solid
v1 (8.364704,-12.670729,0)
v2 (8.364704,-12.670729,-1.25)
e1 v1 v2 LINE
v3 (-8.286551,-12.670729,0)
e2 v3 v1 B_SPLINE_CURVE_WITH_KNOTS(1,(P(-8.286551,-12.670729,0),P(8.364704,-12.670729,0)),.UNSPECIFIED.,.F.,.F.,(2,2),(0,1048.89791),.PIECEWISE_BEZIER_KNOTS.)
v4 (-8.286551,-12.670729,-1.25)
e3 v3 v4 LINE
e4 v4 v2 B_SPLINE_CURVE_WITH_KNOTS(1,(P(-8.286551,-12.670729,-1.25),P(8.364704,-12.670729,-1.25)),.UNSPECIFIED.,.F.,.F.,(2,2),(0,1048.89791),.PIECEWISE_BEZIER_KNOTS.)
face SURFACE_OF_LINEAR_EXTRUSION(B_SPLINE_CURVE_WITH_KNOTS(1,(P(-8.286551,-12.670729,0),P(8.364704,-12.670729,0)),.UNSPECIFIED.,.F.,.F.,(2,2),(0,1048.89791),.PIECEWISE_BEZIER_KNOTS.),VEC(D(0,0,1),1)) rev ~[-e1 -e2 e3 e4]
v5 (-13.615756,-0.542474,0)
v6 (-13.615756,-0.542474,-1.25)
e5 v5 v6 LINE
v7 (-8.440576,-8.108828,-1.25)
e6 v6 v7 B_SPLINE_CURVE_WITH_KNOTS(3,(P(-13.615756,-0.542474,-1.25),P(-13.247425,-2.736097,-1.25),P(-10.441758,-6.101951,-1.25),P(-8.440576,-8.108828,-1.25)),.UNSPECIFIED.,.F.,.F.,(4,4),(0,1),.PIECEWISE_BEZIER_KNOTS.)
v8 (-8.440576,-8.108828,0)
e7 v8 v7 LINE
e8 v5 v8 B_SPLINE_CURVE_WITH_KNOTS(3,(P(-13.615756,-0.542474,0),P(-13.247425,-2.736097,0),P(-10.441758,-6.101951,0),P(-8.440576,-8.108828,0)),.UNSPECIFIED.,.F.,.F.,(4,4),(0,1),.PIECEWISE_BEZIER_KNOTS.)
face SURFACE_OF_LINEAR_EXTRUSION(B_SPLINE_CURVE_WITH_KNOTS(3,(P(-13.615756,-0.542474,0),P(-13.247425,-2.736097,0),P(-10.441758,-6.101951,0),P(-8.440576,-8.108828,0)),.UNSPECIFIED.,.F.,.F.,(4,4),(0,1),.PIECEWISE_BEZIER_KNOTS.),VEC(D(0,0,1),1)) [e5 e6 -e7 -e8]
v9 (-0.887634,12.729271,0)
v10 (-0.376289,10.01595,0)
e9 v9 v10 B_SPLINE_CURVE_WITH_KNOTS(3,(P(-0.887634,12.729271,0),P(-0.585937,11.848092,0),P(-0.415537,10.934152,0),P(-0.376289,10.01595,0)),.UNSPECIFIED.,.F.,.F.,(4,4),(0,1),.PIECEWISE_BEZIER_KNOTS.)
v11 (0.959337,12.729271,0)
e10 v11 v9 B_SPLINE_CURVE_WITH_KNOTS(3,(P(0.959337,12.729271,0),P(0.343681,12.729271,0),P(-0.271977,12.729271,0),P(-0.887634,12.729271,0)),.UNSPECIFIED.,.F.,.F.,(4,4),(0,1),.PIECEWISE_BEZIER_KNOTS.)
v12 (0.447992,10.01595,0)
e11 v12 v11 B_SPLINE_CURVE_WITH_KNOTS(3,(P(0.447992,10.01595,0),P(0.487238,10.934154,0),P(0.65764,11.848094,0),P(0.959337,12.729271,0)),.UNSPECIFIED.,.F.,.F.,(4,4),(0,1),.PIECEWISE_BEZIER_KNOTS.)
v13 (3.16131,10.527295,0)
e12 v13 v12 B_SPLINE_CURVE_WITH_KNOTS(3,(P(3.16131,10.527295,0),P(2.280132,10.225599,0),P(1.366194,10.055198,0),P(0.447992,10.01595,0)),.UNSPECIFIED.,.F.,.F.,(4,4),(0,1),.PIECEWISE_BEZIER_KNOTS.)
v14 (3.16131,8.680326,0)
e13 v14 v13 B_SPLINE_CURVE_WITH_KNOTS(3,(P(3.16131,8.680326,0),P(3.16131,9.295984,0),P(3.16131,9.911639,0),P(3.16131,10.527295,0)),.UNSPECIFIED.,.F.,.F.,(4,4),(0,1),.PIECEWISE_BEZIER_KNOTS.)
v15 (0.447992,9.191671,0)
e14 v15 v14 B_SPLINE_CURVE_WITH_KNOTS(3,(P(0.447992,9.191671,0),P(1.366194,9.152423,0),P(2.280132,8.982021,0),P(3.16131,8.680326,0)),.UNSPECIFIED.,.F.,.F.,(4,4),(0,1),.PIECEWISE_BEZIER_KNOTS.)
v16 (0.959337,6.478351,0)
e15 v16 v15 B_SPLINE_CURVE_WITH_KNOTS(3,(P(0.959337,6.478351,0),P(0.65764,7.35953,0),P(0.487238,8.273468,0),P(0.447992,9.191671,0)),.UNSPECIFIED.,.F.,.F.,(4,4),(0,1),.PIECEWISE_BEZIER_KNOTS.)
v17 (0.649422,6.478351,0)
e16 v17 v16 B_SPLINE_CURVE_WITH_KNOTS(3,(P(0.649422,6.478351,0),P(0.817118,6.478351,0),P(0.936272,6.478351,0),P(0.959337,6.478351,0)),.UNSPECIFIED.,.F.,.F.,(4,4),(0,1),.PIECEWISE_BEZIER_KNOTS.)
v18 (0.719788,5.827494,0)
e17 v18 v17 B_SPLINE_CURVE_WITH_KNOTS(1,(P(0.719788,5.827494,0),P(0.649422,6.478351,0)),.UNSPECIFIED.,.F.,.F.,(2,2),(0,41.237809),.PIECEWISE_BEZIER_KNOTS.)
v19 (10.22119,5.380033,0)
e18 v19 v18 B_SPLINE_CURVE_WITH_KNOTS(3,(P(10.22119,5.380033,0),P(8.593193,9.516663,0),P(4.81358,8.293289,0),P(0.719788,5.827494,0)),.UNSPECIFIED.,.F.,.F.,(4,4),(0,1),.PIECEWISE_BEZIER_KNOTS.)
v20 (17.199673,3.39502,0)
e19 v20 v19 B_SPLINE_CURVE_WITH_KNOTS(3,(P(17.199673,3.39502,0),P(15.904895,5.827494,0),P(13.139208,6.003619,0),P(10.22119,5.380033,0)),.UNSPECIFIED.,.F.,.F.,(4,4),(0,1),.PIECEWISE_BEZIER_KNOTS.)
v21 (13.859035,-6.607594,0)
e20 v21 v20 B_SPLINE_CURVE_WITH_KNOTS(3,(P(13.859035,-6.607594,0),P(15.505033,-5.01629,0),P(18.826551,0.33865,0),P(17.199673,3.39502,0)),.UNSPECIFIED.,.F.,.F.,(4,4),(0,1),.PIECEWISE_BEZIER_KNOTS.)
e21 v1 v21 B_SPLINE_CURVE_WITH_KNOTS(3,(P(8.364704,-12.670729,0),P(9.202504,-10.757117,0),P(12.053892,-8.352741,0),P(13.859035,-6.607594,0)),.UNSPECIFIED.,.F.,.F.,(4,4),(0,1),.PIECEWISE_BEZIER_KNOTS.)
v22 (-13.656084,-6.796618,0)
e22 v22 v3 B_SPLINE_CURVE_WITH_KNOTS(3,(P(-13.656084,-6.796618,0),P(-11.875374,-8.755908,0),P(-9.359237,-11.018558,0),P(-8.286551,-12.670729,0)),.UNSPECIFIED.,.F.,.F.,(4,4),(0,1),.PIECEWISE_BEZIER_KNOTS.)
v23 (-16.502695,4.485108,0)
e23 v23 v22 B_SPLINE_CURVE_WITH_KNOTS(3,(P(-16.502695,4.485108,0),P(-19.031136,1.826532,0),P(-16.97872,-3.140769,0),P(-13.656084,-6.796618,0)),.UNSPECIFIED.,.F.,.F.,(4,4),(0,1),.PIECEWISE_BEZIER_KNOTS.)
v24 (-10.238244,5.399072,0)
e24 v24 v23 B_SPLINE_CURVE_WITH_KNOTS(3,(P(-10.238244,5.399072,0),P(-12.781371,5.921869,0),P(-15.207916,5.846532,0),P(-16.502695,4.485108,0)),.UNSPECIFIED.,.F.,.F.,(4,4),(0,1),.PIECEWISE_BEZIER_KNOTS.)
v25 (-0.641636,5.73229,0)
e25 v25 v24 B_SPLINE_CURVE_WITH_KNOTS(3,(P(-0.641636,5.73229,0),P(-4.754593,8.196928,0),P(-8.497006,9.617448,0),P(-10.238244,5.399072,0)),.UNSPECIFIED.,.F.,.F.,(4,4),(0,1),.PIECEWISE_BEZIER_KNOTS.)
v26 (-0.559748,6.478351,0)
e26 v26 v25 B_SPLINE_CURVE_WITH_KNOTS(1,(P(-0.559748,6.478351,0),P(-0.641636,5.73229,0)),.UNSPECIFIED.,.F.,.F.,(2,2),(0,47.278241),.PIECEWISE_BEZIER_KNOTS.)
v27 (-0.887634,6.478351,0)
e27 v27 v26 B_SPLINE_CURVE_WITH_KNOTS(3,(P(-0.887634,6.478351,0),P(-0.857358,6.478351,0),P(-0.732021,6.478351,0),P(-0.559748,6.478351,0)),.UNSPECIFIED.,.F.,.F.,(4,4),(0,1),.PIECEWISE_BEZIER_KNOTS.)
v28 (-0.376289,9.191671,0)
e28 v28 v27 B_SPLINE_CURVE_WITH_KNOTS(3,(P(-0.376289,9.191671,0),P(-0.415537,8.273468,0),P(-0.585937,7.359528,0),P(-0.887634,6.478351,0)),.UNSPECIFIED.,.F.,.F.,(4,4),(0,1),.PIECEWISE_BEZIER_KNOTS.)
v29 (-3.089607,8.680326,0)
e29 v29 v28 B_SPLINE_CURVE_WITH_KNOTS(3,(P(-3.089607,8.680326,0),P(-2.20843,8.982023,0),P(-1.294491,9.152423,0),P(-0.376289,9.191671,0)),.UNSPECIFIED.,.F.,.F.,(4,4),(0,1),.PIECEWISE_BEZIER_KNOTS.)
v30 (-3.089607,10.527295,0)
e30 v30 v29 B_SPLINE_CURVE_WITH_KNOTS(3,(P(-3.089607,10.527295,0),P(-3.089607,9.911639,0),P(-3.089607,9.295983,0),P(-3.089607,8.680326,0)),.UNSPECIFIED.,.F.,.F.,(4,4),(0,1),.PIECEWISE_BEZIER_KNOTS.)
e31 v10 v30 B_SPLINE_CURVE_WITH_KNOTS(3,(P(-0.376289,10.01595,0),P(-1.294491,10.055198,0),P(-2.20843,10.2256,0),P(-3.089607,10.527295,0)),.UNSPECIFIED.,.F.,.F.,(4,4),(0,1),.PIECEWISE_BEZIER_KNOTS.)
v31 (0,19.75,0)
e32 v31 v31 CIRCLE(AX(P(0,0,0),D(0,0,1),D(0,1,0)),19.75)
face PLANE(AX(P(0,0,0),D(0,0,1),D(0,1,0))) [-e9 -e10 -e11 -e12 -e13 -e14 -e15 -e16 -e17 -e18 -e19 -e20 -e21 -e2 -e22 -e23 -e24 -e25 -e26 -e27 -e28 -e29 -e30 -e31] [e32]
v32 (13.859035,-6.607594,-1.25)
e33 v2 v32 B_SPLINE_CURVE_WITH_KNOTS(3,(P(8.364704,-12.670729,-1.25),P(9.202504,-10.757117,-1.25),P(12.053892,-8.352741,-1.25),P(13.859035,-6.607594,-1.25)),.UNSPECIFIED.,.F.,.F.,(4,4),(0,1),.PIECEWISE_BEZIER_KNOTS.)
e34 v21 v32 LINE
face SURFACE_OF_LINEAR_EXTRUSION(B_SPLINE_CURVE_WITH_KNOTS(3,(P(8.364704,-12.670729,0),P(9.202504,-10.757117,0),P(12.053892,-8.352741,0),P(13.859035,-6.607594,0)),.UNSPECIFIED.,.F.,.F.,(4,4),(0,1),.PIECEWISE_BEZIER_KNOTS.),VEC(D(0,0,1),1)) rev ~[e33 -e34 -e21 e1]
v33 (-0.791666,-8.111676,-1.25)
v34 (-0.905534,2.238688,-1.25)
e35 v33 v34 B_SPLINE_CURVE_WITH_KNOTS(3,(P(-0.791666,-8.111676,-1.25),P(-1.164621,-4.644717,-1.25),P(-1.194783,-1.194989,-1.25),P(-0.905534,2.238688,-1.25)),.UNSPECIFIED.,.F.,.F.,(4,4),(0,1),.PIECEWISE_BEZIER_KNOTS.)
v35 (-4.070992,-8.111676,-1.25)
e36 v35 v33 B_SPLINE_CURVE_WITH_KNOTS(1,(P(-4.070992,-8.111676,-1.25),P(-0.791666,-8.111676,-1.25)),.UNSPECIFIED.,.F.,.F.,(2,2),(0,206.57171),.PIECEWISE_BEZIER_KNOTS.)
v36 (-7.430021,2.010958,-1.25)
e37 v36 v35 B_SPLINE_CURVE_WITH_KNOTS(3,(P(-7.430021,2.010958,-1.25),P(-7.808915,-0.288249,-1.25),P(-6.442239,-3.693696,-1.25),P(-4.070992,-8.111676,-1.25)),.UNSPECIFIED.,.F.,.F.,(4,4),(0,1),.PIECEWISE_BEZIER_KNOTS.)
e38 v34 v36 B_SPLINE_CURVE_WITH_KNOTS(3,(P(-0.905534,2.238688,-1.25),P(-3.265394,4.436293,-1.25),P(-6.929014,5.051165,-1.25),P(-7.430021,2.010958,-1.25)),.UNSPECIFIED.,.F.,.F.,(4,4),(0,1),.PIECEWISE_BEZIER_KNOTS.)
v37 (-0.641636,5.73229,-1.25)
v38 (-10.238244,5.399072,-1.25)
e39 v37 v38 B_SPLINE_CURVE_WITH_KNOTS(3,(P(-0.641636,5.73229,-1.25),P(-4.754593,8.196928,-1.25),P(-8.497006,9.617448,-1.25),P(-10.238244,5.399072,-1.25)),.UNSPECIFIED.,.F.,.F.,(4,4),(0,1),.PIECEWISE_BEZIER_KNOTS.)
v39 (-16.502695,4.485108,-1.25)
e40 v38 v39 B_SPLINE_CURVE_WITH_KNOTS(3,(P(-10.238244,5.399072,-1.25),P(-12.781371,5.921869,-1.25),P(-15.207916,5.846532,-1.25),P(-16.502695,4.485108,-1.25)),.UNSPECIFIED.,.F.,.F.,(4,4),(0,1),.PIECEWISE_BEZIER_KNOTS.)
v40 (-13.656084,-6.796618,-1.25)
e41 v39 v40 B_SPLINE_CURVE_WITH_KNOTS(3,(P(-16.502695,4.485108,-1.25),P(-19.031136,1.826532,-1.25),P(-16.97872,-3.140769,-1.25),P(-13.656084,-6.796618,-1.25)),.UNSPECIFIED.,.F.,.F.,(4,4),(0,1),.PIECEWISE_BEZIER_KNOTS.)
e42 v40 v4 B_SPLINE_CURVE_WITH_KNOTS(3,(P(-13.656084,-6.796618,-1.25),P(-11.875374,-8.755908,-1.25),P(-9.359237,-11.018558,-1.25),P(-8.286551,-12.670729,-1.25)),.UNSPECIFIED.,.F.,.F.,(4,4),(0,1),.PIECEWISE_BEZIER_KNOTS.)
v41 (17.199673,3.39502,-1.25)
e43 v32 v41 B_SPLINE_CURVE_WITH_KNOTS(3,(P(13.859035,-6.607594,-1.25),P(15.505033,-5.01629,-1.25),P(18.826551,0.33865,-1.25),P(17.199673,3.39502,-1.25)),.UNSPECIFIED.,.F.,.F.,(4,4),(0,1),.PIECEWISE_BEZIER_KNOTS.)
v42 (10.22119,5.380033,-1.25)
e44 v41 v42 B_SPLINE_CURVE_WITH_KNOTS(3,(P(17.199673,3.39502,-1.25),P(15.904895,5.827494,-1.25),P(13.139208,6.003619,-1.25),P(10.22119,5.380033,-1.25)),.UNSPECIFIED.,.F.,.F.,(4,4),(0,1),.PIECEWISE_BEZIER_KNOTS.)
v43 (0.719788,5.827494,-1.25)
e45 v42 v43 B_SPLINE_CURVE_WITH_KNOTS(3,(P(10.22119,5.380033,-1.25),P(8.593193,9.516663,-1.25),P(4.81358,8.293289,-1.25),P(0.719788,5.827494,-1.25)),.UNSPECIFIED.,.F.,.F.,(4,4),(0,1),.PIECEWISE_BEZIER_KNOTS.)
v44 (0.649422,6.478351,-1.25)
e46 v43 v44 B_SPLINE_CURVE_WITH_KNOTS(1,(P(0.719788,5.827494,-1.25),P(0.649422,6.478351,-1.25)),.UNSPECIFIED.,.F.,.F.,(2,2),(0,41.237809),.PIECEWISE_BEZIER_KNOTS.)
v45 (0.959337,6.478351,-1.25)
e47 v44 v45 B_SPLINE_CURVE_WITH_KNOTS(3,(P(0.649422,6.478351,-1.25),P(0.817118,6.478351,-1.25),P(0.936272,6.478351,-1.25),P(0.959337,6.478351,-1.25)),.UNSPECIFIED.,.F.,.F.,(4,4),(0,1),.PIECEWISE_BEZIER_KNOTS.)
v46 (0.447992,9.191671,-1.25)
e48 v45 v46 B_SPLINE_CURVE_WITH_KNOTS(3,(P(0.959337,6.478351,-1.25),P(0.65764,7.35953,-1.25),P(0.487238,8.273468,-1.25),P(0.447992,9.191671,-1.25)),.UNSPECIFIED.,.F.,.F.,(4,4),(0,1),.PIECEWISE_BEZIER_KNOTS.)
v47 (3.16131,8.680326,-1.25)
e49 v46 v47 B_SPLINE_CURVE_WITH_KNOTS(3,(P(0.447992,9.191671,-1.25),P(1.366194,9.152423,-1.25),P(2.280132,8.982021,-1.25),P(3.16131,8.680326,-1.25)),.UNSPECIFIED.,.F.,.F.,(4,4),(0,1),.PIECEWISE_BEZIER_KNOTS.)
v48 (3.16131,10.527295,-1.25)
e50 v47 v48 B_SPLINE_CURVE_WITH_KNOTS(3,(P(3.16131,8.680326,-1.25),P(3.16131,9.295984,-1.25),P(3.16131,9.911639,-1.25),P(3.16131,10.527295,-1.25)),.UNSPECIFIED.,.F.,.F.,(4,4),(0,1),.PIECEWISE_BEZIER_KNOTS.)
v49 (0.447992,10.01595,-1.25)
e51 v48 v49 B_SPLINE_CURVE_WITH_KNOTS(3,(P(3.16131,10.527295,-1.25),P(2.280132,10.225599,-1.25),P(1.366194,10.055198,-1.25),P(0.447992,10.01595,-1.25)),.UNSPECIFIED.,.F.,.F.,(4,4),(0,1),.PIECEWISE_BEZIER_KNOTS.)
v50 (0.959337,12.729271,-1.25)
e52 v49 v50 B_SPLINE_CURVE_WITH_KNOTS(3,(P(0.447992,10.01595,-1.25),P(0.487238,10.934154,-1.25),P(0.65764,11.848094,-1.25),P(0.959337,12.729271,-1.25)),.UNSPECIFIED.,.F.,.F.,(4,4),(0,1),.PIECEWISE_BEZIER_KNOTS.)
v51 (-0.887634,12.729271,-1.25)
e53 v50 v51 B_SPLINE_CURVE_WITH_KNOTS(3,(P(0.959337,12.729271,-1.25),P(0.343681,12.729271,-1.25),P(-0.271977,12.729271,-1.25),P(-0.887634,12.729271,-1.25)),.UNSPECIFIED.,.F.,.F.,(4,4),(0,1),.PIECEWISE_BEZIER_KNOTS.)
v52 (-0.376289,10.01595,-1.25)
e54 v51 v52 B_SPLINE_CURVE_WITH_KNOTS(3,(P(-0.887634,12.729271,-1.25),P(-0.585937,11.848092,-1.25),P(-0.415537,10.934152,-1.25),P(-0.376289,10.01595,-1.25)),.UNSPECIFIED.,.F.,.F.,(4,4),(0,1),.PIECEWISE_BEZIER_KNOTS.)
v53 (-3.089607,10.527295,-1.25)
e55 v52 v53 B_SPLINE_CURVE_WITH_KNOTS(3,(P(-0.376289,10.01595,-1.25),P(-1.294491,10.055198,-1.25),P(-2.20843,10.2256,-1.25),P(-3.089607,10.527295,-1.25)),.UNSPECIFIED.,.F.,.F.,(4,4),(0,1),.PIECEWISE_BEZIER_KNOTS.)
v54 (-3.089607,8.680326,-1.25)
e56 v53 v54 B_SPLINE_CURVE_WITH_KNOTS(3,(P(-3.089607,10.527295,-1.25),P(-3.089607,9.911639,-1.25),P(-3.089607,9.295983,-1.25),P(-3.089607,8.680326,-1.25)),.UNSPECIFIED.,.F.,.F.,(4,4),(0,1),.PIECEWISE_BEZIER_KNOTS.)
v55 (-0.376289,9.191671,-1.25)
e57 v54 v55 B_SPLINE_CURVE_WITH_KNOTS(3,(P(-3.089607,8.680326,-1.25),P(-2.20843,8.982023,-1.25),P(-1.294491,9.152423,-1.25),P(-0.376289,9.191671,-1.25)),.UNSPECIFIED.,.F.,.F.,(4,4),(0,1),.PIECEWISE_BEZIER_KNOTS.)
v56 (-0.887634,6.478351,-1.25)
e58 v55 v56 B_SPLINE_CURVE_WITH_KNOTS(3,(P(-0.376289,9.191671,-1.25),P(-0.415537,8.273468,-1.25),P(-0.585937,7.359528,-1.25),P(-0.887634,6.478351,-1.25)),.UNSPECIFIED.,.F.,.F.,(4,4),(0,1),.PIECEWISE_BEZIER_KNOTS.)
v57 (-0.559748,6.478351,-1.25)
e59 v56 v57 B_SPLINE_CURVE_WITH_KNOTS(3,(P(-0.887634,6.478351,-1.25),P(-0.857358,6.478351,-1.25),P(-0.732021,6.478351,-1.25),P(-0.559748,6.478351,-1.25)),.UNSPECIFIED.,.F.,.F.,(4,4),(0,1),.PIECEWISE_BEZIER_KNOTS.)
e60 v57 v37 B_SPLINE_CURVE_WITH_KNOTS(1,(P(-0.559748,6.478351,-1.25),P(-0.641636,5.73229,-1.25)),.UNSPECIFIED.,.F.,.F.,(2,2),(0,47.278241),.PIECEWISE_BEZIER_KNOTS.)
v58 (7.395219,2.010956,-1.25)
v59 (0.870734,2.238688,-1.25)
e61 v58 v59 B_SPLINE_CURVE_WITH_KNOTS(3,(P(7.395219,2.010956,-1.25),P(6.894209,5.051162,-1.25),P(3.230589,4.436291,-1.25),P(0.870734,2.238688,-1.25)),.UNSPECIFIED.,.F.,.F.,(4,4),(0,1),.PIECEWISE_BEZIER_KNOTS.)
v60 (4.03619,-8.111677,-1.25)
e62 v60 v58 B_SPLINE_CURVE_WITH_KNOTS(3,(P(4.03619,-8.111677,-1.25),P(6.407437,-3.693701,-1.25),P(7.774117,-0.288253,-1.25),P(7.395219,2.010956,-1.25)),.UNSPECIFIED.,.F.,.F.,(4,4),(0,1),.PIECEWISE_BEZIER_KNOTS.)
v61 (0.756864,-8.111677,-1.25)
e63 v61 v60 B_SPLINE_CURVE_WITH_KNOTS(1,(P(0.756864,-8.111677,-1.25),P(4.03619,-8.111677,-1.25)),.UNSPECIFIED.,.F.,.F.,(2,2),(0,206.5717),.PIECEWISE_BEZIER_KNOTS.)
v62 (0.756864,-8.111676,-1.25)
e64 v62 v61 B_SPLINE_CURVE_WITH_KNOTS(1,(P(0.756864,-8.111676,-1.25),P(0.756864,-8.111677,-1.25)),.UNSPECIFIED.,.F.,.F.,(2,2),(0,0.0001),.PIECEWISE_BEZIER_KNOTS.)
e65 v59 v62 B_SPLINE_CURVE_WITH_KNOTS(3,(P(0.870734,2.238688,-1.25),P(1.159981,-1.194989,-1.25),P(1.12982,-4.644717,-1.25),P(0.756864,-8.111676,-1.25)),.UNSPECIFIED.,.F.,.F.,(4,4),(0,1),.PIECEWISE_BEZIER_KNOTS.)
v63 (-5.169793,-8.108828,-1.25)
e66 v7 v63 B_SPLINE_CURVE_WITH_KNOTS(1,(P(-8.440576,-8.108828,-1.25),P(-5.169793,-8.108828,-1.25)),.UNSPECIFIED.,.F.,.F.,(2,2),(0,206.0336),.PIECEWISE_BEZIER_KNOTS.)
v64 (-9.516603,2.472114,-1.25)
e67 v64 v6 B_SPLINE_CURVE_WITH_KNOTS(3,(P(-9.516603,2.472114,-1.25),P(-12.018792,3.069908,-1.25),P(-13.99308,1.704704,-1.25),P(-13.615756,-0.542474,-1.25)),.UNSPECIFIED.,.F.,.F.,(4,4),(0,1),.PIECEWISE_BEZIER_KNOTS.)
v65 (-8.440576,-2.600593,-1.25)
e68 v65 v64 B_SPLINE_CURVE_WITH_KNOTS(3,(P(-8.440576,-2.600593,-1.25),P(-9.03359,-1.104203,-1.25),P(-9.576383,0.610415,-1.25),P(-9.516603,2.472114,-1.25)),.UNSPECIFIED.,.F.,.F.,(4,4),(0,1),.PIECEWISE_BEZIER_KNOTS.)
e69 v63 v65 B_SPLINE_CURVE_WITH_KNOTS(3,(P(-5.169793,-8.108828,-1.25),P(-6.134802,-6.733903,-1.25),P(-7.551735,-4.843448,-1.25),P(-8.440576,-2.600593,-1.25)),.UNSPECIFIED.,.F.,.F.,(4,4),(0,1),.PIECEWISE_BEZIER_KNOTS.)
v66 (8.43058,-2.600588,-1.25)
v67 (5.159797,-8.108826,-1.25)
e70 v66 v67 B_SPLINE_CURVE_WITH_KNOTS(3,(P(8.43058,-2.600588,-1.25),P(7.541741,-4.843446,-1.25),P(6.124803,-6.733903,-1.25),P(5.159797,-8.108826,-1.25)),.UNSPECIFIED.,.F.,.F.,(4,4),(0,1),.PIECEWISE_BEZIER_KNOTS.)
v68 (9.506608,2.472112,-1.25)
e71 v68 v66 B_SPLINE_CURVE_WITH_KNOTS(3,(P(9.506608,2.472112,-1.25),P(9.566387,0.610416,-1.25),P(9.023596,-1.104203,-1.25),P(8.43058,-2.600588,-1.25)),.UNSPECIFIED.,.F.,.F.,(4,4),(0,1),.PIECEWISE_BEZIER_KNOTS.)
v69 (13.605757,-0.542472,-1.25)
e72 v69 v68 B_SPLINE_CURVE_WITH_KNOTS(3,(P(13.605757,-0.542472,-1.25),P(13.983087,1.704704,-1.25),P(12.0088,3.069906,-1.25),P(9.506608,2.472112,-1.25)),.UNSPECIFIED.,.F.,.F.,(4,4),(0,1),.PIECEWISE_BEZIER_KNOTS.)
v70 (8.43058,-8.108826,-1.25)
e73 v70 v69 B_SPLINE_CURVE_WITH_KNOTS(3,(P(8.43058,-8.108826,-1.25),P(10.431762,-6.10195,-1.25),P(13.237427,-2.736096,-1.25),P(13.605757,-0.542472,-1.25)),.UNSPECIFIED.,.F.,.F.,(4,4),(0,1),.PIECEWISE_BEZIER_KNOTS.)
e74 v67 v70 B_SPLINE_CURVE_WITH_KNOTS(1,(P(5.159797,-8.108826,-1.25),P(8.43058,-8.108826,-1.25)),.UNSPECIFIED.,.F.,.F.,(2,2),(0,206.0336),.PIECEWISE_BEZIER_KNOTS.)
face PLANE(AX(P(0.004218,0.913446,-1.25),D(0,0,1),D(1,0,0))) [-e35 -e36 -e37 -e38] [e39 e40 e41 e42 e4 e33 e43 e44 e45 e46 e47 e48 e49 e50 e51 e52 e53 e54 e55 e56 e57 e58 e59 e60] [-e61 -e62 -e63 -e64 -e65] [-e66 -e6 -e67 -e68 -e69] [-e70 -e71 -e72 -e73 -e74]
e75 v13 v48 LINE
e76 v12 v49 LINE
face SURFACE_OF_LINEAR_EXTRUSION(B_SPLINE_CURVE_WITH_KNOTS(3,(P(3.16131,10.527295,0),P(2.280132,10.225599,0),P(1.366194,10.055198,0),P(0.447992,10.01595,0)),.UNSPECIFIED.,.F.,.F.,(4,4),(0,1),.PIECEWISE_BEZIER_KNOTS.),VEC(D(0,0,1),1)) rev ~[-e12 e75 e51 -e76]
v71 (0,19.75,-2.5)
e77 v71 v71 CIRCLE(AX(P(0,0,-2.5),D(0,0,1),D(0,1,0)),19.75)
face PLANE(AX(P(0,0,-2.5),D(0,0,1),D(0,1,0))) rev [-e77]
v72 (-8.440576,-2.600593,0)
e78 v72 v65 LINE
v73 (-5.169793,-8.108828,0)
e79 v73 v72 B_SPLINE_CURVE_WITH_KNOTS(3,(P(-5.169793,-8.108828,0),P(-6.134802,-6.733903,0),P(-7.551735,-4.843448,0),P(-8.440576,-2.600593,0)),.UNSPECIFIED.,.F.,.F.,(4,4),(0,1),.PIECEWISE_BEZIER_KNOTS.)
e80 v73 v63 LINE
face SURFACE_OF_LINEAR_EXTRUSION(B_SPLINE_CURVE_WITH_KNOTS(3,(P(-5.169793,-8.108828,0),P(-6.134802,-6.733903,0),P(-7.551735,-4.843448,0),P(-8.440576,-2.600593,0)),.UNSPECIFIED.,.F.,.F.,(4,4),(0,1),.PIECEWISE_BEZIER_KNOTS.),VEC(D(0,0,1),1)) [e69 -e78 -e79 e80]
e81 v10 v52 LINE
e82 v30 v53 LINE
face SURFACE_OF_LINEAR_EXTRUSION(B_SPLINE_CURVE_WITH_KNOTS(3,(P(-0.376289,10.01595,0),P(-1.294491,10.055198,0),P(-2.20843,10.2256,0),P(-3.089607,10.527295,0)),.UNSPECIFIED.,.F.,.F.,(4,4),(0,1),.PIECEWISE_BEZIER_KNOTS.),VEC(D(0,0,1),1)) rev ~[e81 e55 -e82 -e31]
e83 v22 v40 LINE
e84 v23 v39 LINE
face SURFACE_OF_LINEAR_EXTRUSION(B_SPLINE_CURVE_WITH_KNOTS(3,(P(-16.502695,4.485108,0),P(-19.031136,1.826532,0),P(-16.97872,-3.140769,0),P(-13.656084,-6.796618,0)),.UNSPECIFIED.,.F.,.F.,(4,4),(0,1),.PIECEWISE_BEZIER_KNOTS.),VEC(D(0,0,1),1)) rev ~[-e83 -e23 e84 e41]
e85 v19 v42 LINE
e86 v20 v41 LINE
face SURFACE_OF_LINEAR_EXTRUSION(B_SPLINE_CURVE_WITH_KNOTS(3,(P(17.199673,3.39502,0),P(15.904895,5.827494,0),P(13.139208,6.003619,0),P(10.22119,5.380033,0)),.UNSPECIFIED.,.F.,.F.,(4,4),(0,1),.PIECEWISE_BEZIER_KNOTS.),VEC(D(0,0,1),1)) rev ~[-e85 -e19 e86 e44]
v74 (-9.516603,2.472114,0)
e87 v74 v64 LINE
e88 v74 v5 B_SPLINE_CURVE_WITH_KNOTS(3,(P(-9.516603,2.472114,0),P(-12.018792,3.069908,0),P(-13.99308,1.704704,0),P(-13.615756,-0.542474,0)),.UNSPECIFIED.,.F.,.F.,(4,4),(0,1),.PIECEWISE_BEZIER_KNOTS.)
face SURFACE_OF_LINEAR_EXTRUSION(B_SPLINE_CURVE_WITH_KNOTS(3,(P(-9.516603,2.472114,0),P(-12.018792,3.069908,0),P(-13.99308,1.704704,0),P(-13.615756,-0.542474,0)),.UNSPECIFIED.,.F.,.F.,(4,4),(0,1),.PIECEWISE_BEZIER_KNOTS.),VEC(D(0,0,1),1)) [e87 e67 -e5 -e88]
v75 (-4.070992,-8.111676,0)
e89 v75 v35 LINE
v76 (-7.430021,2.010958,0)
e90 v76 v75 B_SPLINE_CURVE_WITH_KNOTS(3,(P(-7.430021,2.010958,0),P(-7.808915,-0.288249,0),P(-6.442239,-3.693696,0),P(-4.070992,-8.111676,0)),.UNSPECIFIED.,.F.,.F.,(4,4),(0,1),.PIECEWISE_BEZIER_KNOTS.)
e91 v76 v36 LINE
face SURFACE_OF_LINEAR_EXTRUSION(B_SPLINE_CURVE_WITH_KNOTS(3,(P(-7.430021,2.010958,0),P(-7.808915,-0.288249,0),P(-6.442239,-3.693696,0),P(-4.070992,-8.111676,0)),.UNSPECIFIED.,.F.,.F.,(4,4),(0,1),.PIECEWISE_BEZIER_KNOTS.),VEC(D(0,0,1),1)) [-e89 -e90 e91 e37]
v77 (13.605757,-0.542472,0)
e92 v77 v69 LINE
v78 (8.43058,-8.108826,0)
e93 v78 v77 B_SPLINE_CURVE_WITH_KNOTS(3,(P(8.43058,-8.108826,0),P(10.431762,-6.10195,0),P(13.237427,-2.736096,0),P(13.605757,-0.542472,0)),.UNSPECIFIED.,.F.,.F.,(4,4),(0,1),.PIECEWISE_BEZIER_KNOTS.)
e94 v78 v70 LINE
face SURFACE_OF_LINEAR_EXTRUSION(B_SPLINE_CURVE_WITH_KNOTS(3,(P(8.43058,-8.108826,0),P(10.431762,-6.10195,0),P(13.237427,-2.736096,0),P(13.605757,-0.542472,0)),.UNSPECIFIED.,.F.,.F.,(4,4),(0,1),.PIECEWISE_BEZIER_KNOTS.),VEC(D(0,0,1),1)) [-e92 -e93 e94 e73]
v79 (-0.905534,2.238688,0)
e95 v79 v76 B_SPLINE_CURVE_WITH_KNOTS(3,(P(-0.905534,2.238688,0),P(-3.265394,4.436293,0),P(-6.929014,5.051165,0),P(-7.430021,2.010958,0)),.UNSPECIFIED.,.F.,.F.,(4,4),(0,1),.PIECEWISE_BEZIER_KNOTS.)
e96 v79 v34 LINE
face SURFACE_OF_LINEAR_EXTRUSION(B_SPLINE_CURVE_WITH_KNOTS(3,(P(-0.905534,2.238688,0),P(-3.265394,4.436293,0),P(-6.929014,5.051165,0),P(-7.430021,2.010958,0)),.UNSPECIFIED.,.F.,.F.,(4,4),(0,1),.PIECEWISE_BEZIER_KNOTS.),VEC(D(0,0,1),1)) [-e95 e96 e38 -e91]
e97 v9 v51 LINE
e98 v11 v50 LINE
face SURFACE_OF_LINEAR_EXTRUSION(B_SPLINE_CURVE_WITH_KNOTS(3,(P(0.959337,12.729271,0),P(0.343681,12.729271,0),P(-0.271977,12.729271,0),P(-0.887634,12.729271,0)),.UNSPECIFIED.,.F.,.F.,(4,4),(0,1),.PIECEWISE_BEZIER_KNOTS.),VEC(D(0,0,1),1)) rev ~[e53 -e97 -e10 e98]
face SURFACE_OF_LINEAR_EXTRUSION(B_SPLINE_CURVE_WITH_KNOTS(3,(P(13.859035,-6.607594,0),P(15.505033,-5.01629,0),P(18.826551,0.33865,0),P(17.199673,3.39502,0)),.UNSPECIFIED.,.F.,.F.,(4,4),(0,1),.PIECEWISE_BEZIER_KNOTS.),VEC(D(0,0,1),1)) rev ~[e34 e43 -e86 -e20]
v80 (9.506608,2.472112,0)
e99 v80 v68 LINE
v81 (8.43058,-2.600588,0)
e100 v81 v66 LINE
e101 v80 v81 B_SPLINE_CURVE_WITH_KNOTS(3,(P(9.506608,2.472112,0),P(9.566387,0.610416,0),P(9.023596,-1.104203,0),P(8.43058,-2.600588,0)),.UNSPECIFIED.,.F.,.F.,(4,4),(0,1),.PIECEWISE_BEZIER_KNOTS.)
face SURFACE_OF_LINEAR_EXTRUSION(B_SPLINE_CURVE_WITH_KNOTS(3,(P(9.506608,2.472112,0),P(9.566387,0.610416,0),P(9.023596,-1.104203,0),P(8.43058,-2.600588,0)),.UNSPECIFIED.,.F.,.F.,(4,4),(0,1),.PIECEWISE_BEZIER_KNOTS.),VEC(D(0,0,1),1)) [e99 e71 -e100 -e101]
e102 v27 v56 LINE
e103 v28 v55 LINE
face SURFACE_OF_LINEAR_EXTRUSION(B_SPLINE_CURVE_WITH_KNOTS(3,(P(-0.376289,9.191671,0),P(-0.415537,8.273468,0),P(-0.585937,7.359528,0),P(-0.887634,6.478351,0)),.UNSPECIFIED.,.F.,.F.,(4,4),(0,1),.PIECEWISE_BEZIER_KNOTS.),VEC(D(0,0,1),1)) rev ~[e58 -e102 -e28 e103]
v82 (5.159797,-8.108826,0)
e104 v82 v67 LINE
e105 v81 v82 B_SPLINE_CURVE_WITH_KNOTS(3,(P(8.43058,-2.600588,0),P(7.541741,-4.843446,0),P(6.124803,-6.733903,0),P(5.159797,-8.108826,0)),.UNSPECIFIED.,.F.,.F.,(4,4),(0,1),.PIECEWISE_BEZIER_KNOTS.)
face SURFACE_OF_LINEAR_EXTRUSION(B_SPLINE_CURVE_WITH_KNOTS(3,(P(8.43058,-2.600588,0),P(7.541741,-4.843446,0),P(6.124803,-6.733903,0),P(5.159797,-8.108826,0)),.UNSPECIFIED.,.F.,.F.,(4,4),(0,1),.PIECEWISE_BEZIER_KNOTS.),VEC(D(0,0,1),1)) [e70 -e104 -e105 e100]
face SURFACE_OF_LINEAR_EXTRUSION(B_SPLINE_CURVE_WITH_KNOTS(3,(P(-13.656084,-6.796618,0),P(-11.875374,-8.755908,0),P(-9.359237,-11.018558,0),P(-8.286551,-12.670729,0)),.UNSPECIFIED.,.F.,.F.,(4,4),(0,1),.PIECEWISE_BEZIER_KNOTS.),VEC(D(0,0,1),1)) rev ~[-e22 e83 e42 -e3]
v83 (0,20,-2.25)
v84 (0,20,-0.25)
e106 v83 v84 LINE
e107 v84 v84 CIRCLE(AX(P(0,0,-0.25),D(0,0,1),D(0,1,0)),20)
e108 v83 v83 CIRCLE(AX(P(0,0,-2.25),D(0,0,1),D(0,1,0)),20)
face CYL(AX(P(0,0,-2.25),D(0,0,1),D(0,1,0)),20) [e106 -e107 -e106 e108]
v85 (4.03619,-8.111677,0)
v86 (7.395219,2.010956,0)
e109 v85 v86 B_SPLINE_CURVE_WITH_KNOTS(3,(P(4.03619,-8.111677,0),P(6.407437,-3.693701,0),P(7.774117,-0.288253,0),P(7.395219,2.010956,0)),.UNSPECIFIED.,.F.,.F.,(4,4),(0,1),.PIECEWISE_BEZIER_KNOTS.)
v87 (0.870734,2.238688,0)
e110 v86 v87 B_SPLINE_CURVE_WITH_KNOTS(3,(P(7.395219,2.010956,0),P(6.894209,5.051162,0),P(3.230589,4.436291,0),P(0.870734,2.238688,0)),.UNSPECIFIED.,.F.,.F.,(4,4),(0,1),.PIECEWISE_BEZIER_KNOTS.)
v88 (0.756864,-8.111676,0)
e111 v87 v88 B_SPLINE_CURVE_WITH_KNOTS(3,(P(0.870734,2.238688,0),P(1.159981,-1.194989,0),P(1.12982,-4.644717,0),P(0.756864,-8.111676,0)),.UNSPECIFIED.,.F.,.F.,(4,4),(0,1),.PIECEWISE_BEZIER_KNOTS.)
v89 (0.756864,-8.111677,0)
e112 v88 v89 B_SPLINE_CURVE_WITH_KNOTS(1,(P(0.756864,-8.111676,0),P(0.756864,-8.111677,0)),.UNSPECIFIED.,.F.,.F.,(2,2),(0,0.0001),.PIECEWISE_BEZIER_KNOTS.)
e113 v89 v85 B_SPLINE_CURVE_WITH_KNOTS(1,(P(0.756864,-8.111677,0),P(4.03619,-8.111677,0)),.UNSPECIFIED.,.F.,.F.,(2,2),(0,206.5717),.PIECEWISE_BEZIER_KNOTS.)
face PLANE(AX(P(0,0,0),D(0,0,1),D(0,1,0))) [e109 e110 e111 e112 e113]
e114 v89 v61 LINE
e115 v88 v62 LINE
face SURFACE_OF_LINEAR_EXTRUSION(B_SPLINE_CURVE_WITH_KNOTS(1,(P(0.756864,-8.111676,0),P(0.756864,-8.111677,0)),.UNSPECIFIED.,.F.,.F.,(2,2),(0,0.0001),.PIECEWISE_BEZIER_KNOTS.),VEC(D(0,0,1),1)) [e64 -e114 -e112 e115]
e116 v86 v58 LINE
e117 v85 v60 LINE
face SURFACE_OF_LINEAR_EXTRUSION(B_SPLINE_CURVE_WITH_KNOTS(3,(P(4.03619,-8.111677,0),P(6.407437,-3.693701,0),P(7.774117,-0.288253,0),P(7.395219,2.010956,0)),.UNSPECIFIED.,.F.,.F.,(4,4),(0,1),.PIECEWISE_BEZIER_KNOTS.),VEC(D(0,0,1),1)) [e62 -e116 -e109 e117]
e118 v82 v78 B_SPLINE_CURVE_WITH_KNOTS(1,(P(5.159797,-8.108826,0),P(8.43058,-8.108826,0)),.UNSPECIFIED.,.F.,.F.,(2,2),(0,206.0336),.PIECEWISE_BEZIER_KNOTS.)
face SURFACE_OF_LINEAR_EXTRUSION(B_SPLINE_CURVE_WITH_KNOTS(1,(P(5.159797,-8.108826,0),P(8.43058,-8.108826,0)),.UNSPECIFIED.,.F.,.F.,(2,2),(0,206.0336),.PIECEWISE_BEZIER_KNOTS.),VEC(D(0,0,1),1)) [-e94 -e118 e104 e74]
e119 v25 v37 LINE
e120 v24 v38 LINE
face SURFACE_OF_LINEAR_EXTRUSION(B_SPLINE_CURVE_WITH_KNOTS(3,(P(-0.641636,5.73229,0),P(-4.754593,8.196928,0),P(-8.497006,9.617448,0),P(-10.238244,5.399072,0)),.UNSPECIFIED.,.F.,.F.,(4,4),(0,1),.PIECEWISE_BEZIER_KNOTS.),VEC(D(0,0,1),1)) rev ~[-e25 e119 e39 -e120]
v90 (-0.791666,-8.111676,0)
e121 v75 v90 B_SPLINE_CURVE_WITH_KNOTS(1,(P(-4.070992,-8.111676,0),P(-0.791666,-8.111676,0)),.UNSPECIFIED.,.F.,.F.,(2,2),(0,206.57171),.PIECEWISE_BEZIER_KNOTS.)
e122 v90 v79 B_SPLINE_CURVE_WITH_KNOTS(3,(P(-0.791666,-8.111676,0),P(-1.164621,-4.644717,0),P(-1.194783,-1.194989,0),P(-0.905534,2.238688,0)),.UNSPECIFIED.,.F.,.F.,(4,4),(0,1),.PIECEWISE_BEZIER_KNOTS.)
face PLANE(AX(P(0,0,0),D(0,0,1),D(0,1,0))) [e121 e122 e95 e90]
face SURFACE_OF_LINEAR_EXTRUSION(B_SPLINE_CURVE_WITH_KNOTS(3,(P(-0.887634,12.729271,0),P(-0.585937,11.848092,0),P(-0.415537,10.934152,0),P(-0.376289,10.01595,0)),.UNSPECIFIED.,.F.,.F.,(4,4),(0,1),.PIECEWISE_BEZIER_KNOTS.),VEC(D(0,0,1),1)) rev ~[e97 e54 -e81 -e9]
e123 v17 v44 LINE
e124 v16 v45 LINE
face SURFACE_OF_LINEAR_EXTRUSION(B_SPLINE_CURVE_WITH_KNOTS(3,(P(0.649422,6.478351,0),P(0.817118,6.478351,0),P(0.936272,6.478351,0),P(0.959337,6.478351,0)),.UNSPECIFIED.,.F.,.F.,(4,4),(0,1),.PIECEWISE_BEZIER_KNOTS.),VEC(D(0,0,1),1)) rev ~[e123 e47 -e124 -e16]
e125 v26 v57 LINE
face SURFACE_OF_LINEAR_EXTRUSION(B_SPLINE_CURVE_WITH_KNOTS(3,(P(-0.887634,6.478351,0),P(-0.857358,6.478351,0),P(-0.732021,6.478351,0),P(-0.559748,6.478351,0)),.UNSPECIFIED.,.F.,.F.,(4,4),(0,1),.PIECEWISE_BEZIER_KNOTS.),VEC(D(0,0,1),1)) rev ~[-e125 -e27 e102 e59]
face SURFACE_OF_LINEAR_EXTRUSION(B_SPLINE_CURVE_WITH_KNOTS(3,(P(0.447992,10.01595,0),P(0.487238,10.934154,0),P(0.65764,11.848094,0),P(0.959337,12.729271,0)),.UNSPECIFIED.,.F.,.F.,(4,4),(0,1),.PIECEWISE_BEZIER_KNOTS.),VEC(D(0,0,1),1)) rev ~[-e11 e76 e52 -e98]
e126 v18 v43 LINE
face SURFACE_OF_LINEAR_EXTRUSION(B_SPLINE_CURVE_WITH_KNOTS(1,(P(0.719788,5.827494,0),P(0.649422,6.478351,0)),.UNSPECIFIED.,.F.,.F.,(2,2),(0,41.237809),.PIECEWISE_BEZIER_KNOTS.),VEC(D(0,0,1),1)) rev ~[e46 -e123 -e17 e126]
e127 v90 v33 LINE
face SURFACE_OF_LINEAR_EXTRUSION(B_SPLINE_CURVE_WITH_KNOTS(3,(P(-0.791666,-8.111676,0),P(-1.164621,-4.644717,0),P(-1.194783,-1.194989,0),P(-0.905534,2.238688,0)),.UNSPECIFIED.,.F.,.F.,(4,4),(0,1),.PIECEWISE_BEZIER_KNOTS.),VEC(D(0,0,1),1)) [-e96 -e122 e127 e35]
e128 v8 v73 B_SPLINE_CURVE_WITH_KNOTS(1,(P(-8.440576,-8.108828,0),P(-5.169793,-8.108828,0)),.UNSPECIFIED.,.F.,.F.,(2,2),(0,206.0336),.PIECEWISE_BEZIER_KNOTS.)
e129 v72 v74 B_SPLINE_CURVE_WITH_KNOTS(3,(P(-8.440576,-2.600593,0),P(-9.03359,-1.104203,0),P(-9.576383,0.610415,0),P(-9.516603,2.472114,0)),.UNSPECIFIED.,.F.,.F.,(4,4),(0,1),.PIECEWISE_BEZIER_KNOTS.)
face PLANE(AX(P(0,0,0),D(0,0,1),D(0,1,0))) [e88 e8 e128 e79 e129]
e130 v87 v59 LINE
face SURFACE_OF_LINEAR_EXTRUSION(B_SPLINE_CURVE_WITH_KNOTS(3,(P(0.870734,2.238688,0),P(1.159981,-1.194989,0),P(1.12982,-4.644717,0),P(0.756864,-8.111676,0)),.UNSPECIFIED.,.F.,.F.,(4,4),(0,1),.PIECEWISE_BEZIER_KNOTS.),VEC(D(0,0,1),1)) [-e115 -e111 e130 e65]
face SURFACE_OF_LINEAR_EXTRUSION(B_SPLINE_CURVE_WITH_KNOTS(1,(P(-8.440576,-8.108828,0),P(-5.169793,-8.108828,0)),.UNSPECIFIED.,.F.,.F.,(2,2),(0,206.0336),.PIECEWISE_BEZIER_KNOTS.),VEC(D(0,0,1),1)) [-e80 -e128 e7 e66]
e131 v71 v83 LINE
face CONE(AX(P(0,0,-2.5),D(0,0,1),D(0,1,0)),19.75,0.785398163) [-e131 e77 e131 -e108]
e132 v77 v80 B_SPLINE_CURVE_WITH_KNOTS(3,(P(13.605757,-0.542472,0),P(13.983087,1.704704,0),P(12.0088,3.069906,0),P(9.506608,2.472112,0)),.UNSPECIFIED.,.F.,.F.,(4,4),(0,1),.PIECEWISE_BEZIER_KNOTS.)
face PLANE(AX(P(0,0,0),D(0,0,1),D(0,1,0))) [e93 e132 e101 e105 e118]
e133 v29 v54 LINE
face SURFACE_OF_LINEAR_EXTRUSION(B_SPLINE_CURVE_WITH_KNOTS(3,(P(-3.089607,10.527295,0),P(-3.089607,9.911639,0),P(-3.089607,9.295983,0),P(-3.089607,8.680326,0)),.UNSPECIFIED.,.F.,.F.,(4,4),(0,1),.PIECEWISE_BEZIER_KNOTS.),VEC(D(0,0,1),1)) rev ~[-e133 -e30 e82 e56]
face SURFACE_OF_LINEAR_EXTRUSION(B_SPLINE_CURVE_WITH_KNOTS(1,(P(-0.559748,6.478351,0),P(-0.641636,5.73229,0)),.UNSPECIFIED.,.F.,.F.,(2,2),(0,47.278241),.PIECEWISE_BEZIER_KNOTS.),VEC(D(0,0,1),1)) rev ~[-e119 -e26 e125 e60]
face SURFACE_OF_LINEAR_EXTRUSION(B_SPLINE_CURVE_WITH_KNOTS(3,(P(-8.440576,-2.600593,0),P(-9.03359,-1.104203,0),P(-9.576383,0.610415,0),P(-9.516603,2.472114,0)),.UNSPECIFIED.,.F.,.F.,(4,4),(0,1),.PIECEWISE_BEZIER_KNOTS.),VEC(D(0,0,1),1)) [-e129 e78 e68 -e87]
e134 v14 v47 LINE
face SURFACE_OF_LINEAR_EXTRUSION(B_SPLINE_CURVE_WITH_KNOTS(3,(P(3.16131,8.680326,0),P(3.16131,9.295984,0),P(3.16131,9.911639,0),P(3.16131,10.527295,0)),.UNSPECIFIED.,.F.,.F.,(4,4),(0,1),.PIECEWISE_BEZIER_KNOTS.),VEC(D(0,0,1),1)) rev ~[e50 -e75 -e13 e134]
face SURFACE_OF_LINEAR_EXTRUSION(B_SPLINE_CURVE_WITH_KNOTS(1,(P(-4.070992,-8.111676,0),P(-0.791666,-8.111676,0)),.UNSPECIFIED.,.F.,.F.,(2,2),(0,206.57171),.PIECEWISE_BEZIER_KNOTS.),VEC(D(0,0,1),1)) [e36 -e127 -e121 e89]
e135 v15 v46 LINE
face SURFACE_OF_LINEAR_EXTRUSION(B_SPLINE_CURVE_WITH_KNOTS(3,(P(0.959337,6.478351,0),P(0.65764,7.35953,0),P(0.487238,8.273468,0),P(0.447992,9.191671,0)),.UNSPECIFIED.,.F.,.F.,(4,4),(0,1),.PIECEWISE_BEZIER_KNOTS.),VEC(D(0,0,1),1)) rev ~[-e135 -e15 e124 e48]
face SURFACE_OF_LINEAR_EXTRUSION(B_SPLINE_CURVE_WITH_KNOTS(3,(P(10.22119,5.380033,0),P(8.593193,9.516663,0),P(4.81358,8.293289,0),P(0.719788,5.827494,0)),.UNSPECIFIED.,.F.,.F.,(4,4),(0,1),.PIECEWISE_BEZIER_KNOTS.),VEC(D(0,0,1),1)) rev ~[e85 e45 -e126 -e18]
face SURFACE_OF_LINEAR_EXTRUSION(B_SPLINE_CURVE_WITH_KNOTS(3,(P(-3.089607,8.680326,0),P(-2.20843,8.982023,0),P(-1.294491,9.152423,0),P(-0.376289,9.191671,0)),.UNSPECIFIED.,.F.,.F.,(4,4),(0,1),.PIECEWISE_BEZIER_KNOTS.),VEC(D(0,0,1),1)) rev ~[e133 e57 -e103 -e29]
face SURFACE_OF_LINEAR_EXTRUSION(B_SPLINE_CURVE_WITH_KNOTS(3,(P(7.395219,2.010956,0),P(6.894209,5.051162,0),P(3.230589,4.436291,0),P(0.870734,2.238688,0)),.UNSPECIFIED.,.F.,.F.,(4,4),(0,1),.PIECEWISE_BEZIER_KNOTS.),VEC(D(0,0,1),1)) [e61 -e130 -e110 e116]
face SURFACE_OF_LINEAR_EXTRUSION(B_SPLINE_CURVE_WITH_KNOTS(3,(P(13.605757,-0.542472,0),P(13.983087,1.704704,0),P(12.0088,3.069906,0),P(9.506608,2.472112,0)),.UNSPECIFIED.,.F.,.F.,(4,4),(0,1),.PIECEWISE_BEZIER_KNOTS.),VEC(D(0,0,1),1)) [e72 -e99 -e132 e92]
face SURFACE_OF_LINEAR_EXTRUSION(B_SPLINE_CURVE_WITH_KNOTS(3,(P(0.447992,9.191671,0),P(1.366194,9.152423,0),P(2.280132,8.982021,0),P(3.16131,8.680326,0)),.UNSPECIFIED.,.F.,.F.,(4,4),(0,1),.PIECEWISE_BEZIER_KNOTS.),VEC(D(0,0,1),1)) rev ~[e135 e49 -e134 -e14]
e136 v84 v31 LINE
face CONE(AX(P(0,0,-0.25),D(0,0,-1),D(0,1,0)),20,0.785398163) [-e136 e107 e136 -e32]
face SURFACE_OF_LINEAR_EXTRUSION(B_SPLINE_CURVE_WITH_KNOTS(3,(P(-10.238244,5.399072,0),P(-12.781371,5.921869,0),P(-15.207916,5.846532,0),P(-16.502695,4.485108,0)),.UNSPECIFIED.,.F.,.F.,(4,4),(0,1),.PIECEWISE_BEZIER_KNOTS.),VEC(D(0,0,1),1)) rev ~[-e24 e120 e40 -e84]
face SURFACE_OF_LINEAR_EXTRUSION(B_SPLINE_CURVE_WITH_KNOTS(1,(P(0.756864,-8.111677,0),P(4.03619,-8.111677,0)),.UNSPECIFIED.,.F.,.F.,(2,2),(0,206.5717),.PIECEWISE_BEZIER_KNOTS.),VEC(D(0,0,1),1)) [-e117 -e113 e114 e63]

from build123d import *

# Parameters (mm, degrees)
POCKET_DEPTH = 1.25


with BuildPart() as part:
    # Sketch (on DatumPlane) → Revolution (revolve)
    with BuildSketch(Plane.YZ):
        Polygon((0, 0), (0, -2.5), (19.75, -2.5), (20, -2.25), (20, -0.25), (19.75, 0), align=None)
    revolve(axis=Axis((0, 0, 0), (0, 0, 1)))

    # Sketch005 → Pocket (cut)
    with BuildSketch(Plane.XY):
        with BuildLine():
            add(Edge.make_bspline(
                [(17.199673, 3.39502), (15.904895, 5.827494), (13.139208, 6.003619), (10.22119, 5.380033)],
                knots=[0, 0, 0, 0, 1, 1, 1, 1], degree=3))
            add(Edge.make_bspline(
                [(10.22119, 5.380033), (8.593193, 9.516663), (4.81358, 8.293289), (0.719788, 5.827494)],
                knots=[0, 0, 0, 0, 1, 1, 1, 1], degree=3))
            add(Edge.make_bspline(
                [(0.719788, 5.827494), (0.649422, 6.478351)],
                knots=[0, 0, 41.237809, 41.237809], degree=1))
            add(Edge.make_bspline(
                [(0.649422, 6.478351), (0.817118, 6.478351), (0.936272, 6.478351), (0.959337, 6.478351)],
                knots=[0, 0, 0, 0, 1, 1, 1, 1], degree=3))
            add(Edge.make_bspline(
                [(0.959337, 6.478351), (0.65764, 7.35953), (0.487238, 8.273468), (0.447992, 9.191671)],
                knots=[0, 0, 0, 0, 1, 1, 1, 1], degree=3))
            add(Edge.make_bspline(
                [(0.447992, 9.191671), (1.366194, 9.152423), (2.280132, 8.982021), (3.16131, 8.680326)],
                knots=[0, 0, 0, 0, 1, 1, 1, 1], degree=3))
            add(Edge.make_bspline(
                [(3.16131, 8.680326), (3.16131, 9.295984), (3.16131, 9.911639), (3.16131, 10.527295)],
                knots=[0, 0, 0, 0, 1, 1, 1, 1], degree=3))
            add(Edge.make_bspline(
                [(3.16131, 10.527295), (2.280132, 10.225599), (1.366194, 10.055198), (0.447992, 10.01595)],
                knots=[0, 0, 0, 0, 1, 1, 1, 1], degree=3))
            add(Edge.make_bspline(
                [(0.447992, 10.01595), (0.487238, 10.934154), (0.65764, 11.848094), (0.959337, 12.729271)],
                knots=[0, 0, 0, 0, 1, 1, 1, 1], degree=3))
            add(Edge.make_bspline(
                [(0.959337, 12.729271), (0.343681, 12.729271), (-0.271977, 12.729271), (-0.887634, 12.729271)],
                knots=[0, 0, 0, 0, 1, 1, 1, 1], degree=3))
            add(Edge.make_bspline(
                [(-0.887634, 12.729271), (-0.585937, 11.848092), (-0.415537, 10.934152), (-0.376289, 10.01595)],
                knots=[0, 0, 0, 0, 1, 1, 1, 1], degree=3))
            add(Edge.make_bspline(
                [(-0.376289, 10.01595), (-1.294491, 10.055198), (-2.20843, 10.2256), (-3.089607, 10.527295)],
                knots=[0, 0, 0, 0, 1, 1, 1, 1], degree=3))
            add(Edge.make_bspline(
                [(-3.089607, 10.527295), (-3.089607, 9.911639), (-3.089607, 9.295983), (-3.089607, 8.680326)],
                knots=[0, 0, 0, 0, 1, 1, 1, 1], degree=3))
            add(Edge.make_bspline(
                [(-3.089607, 8.680326), (-2.20843, 8.982023), (-1.294491, 9.152423), (-0.376289, 9.191671)],
                knots=[0, 0, 0, 0, 1, 1, 1, 1], degree=3))
            add(Edge.make_bspline(
                [(-0.376289, 9.191671), (-0.415537, 8.273468), (-0.585937, 7.359528), (-0.887634, 6.478351)],
                knots=[0, 0, 0, 0, 1, 1, 1, 1], degree=3))
            add(Edge.make_bspline(
                [(-0.887634, 6.478351), (-0.857358, 6.478351), (-0.732021, 6.478351), (-0.559748, 6.478351)],
                knots=[0, 0, 0, 0, 1, 1, 1, 1], degree=3))
            add(Edge.make_bspline(
                [(-0.559748, 6.478351), (-0.641636, 5.73229)],
                knots=[0, 0, 47.278241, 47.278241], degree=1))
            add(Edge.make_bspline(
                [(-0.641636, 5.73229), (-4.754593, 8.196928), (-8.497006, 9.617448), (-10.238244, 5.399072)],
                knots=[0, 0, 0, 0, 1, 1, 1, 1], degree=3))
            add(Edge.make_bspline(
                [(-10.238244, 5.399072), (-12.781371, 5.921869), (-15.207916, 5.846532), (-16.502695, 4.485108)],
                knots=[0, 0, 0, 0, 1, 1, 1, 1], degree=3))
            add(Edge.make_bspline(
                [(-16.502695, 4.485108), (-19.031136, 1.826532), (-16.97872, -3.140769), (-13.656084, -6.796618)],
                knots=[0, 0, 0, 0, 1, 1, 1, 1], degree=3))
            add(Edge.make_bspline(
                [(-13.656084, -6.796618), (-11.875374, -8.755908), (-9.359237, -11.018558), (-8.286551, -12.670729)],
                knots=[0, 0, 0, 0, 1, 1, 1, 1], degree=3))
            add(Edge.make_bspline(
                [(-8.286551, -12.670729), (8.364704, -12.670729)],
                knots=[0, 0, 1048.89791, 1048.89791], degree=1))
            add(Edge.make_bspline(
                [(8.364704, -12.670729), (9.202504, -10.757117), (12.053892, -8.352741), (13.859035, -6.607594)],
                knots=[0, 0, 0, 0, 1, 1, 1, 1], degree=3))
            add(Edge.make_bspline(
                [(13.859035, -6.607594), (15.505033, -5.01629), (18.826551, 0.33865), (17.199673, 3.39502)],
                knots=[0, 0, 0, 0, 1, 1, 1, 1], degree=3))
        make_face()
        with BuildLine():
            add(Edge.make_bspline(
                [(9.506608, 2.472112), (9.566387, 0.610416), (9.023596, -1.104203), (8.43058, -2.600588)],
                knots=[0, 0, 0, 0, 1, 1, 1, 1], degree=3))
            add(Edge.make_bspline(
                [(8.43058, -2.600588), (7.541741, -4.843446), (6.124803, -6.733903), (5.159797, -8.108826)],
                knots=[0, 0, 0, 0, 1, 1, 1, 1], degree=3))
            add(Edge.make_bspline(
                [(5.159797, -8.108826), (8.43058, -8.108826)],
                knots=[0, 0, 206.0336, 206.0336], degree=1))
            add(Edge.make_bspline(
                [(8.43058, -8.108826), (10.431762, -6.10195), (13.237427, -2.736096), (13.605757, -0.542472)],
                knots=[0, 0, 0, 0, 1, 1, 1, 1], degree=3))
            add(Edge.make_bspline(
                [(13.605757, -0.542472), (13.983087, 1.704704), (12.0088, 3.069906), (9.506608, 2.472112)],
                knots=[0, 0, 0, 0, 1, 1, 1, 1], degree=3))
        make_face(mode=Mode.SUBTRACT)
        with BuildLine():
            add(Edge.make_bspline(
                [(7.395219, 2.010956), (6.894209, 5.051162), (3.230589, 4.436291), (0.870734, 2.238688)],
                knots=[0, 0, 0, 0, 1, 1, 1, 1], degree=3))
            add(Edge.make_bspline(
                [(0.870734, 2.238688), (1.159981, -1.194989), (1.12982, -4.644717), (0.756864, -8.111676)],
                knots=[0, 0, 0, 0, 1, 1, 1, 1], degree=3))
            add(Edge.make_bspline(
                [(0.756864, -8.111676), (0.756864, -8.111677)],
                knots=[0, 0, 0.0001, 0.0001], degree=1))
            add(Edge.make_bspline(
                [(0.756864, -8.111677), (4.03619, -8.111677)],
                knots=[0, 0, 206.5717, 206.5717], degree=1))
            add(Edge.make_bspline(
                [(4.03619, -8.111677), (6.407437, -3.693701), (7.774117, -0.288253), (7.395219, 2.010956)],
                knots=[0, 0, 0, 0, 1, 1, 1, 1], degree=3))
        make_face(mode=Mode.SUBTRACT)
        with BuildLine():
            add(Edge.make_bspline(
                [(-9.516603, 2.472114), (-12.018792, 3.069908), (-13.99308, 1.704704), (-13.615756, -0.542474)],
                knots=[0, 0, 0, 0, 1, 1, 1, 1], degree=3))
            add(Edge.make_bspline(
                [(-13.615756, -0.542474), (-13.247425, -2.736097), (-10.441758, -6.101951), (-8.440576, -8.108828)],
                knots=[0, 0, 0, 0, 1, 1, 1, 1], degree=3))
            add(Edge.make_bspline(
                [(-8.440576, -8.108828), (-5.169793, -8.108828)],
                knots=[0, 0, 206.0336, 206.0336], degree=1))
            add(Edge.make_bspline(
                [(-5.169793, -8.108828), (-6.134802, -6.733903), (-7.551735, -4.843448), (-8.440576, -2.600593)],
                knots=[0, 0, 0, 0, 1, 1, 1, 1], degree=3))
            add(Edge.make_bspline(
                [(-8.440576, -2.600593), (-9.03359, -1.104203), (-9.576383, 0.610415), (-9.516603, 2.472114)],
                knots=[0, 0, 0, 0, 1, 1, 1, 1], degree=3))
        make_face(mode=Mode.SUBTRACT)
        with BuildLine():
            add(Edge.make_bspline(
                [(-0.905534, 2.238688), (-3.265394, 4.436293), (-6.929014, 5.051165), (-7.430021, 2.010958)],
                knots=[0, 0, 0, 0, 1, 1, 1, 1], degree=3))
            add(Edge.make_bspline(
                [(-7.430021, 2.010958), (-7.808915, -0.288249), (-6.442239, -3.693696), (-4.070992, -8.111676)],
                knots=[0, 0, 0, 0, 1, 1, 1, 1], degree=3))
            add(Edge.make_bspline(
                [(-4.070992, -8.111676), (-0.791666, -8.111676)],
                knots=[0, 0, 206.57171, 206.57171], degree=1))
            add(Edge.make_bspline(
                [(-0.791666, -8.111676), (-1.164621, -4.644717), (-1.194783, -1.194989), (-0.905534, 2.238688)],
                knots=[0, 0, 0, 0, 1, 1, 1, 1], degree=3))
        make_face(mode=Mode.SUBTRACT)
    extrude(amount=-POCKET_DEPTH, mode=Mode.SUBTRACT)


solid = part.part
